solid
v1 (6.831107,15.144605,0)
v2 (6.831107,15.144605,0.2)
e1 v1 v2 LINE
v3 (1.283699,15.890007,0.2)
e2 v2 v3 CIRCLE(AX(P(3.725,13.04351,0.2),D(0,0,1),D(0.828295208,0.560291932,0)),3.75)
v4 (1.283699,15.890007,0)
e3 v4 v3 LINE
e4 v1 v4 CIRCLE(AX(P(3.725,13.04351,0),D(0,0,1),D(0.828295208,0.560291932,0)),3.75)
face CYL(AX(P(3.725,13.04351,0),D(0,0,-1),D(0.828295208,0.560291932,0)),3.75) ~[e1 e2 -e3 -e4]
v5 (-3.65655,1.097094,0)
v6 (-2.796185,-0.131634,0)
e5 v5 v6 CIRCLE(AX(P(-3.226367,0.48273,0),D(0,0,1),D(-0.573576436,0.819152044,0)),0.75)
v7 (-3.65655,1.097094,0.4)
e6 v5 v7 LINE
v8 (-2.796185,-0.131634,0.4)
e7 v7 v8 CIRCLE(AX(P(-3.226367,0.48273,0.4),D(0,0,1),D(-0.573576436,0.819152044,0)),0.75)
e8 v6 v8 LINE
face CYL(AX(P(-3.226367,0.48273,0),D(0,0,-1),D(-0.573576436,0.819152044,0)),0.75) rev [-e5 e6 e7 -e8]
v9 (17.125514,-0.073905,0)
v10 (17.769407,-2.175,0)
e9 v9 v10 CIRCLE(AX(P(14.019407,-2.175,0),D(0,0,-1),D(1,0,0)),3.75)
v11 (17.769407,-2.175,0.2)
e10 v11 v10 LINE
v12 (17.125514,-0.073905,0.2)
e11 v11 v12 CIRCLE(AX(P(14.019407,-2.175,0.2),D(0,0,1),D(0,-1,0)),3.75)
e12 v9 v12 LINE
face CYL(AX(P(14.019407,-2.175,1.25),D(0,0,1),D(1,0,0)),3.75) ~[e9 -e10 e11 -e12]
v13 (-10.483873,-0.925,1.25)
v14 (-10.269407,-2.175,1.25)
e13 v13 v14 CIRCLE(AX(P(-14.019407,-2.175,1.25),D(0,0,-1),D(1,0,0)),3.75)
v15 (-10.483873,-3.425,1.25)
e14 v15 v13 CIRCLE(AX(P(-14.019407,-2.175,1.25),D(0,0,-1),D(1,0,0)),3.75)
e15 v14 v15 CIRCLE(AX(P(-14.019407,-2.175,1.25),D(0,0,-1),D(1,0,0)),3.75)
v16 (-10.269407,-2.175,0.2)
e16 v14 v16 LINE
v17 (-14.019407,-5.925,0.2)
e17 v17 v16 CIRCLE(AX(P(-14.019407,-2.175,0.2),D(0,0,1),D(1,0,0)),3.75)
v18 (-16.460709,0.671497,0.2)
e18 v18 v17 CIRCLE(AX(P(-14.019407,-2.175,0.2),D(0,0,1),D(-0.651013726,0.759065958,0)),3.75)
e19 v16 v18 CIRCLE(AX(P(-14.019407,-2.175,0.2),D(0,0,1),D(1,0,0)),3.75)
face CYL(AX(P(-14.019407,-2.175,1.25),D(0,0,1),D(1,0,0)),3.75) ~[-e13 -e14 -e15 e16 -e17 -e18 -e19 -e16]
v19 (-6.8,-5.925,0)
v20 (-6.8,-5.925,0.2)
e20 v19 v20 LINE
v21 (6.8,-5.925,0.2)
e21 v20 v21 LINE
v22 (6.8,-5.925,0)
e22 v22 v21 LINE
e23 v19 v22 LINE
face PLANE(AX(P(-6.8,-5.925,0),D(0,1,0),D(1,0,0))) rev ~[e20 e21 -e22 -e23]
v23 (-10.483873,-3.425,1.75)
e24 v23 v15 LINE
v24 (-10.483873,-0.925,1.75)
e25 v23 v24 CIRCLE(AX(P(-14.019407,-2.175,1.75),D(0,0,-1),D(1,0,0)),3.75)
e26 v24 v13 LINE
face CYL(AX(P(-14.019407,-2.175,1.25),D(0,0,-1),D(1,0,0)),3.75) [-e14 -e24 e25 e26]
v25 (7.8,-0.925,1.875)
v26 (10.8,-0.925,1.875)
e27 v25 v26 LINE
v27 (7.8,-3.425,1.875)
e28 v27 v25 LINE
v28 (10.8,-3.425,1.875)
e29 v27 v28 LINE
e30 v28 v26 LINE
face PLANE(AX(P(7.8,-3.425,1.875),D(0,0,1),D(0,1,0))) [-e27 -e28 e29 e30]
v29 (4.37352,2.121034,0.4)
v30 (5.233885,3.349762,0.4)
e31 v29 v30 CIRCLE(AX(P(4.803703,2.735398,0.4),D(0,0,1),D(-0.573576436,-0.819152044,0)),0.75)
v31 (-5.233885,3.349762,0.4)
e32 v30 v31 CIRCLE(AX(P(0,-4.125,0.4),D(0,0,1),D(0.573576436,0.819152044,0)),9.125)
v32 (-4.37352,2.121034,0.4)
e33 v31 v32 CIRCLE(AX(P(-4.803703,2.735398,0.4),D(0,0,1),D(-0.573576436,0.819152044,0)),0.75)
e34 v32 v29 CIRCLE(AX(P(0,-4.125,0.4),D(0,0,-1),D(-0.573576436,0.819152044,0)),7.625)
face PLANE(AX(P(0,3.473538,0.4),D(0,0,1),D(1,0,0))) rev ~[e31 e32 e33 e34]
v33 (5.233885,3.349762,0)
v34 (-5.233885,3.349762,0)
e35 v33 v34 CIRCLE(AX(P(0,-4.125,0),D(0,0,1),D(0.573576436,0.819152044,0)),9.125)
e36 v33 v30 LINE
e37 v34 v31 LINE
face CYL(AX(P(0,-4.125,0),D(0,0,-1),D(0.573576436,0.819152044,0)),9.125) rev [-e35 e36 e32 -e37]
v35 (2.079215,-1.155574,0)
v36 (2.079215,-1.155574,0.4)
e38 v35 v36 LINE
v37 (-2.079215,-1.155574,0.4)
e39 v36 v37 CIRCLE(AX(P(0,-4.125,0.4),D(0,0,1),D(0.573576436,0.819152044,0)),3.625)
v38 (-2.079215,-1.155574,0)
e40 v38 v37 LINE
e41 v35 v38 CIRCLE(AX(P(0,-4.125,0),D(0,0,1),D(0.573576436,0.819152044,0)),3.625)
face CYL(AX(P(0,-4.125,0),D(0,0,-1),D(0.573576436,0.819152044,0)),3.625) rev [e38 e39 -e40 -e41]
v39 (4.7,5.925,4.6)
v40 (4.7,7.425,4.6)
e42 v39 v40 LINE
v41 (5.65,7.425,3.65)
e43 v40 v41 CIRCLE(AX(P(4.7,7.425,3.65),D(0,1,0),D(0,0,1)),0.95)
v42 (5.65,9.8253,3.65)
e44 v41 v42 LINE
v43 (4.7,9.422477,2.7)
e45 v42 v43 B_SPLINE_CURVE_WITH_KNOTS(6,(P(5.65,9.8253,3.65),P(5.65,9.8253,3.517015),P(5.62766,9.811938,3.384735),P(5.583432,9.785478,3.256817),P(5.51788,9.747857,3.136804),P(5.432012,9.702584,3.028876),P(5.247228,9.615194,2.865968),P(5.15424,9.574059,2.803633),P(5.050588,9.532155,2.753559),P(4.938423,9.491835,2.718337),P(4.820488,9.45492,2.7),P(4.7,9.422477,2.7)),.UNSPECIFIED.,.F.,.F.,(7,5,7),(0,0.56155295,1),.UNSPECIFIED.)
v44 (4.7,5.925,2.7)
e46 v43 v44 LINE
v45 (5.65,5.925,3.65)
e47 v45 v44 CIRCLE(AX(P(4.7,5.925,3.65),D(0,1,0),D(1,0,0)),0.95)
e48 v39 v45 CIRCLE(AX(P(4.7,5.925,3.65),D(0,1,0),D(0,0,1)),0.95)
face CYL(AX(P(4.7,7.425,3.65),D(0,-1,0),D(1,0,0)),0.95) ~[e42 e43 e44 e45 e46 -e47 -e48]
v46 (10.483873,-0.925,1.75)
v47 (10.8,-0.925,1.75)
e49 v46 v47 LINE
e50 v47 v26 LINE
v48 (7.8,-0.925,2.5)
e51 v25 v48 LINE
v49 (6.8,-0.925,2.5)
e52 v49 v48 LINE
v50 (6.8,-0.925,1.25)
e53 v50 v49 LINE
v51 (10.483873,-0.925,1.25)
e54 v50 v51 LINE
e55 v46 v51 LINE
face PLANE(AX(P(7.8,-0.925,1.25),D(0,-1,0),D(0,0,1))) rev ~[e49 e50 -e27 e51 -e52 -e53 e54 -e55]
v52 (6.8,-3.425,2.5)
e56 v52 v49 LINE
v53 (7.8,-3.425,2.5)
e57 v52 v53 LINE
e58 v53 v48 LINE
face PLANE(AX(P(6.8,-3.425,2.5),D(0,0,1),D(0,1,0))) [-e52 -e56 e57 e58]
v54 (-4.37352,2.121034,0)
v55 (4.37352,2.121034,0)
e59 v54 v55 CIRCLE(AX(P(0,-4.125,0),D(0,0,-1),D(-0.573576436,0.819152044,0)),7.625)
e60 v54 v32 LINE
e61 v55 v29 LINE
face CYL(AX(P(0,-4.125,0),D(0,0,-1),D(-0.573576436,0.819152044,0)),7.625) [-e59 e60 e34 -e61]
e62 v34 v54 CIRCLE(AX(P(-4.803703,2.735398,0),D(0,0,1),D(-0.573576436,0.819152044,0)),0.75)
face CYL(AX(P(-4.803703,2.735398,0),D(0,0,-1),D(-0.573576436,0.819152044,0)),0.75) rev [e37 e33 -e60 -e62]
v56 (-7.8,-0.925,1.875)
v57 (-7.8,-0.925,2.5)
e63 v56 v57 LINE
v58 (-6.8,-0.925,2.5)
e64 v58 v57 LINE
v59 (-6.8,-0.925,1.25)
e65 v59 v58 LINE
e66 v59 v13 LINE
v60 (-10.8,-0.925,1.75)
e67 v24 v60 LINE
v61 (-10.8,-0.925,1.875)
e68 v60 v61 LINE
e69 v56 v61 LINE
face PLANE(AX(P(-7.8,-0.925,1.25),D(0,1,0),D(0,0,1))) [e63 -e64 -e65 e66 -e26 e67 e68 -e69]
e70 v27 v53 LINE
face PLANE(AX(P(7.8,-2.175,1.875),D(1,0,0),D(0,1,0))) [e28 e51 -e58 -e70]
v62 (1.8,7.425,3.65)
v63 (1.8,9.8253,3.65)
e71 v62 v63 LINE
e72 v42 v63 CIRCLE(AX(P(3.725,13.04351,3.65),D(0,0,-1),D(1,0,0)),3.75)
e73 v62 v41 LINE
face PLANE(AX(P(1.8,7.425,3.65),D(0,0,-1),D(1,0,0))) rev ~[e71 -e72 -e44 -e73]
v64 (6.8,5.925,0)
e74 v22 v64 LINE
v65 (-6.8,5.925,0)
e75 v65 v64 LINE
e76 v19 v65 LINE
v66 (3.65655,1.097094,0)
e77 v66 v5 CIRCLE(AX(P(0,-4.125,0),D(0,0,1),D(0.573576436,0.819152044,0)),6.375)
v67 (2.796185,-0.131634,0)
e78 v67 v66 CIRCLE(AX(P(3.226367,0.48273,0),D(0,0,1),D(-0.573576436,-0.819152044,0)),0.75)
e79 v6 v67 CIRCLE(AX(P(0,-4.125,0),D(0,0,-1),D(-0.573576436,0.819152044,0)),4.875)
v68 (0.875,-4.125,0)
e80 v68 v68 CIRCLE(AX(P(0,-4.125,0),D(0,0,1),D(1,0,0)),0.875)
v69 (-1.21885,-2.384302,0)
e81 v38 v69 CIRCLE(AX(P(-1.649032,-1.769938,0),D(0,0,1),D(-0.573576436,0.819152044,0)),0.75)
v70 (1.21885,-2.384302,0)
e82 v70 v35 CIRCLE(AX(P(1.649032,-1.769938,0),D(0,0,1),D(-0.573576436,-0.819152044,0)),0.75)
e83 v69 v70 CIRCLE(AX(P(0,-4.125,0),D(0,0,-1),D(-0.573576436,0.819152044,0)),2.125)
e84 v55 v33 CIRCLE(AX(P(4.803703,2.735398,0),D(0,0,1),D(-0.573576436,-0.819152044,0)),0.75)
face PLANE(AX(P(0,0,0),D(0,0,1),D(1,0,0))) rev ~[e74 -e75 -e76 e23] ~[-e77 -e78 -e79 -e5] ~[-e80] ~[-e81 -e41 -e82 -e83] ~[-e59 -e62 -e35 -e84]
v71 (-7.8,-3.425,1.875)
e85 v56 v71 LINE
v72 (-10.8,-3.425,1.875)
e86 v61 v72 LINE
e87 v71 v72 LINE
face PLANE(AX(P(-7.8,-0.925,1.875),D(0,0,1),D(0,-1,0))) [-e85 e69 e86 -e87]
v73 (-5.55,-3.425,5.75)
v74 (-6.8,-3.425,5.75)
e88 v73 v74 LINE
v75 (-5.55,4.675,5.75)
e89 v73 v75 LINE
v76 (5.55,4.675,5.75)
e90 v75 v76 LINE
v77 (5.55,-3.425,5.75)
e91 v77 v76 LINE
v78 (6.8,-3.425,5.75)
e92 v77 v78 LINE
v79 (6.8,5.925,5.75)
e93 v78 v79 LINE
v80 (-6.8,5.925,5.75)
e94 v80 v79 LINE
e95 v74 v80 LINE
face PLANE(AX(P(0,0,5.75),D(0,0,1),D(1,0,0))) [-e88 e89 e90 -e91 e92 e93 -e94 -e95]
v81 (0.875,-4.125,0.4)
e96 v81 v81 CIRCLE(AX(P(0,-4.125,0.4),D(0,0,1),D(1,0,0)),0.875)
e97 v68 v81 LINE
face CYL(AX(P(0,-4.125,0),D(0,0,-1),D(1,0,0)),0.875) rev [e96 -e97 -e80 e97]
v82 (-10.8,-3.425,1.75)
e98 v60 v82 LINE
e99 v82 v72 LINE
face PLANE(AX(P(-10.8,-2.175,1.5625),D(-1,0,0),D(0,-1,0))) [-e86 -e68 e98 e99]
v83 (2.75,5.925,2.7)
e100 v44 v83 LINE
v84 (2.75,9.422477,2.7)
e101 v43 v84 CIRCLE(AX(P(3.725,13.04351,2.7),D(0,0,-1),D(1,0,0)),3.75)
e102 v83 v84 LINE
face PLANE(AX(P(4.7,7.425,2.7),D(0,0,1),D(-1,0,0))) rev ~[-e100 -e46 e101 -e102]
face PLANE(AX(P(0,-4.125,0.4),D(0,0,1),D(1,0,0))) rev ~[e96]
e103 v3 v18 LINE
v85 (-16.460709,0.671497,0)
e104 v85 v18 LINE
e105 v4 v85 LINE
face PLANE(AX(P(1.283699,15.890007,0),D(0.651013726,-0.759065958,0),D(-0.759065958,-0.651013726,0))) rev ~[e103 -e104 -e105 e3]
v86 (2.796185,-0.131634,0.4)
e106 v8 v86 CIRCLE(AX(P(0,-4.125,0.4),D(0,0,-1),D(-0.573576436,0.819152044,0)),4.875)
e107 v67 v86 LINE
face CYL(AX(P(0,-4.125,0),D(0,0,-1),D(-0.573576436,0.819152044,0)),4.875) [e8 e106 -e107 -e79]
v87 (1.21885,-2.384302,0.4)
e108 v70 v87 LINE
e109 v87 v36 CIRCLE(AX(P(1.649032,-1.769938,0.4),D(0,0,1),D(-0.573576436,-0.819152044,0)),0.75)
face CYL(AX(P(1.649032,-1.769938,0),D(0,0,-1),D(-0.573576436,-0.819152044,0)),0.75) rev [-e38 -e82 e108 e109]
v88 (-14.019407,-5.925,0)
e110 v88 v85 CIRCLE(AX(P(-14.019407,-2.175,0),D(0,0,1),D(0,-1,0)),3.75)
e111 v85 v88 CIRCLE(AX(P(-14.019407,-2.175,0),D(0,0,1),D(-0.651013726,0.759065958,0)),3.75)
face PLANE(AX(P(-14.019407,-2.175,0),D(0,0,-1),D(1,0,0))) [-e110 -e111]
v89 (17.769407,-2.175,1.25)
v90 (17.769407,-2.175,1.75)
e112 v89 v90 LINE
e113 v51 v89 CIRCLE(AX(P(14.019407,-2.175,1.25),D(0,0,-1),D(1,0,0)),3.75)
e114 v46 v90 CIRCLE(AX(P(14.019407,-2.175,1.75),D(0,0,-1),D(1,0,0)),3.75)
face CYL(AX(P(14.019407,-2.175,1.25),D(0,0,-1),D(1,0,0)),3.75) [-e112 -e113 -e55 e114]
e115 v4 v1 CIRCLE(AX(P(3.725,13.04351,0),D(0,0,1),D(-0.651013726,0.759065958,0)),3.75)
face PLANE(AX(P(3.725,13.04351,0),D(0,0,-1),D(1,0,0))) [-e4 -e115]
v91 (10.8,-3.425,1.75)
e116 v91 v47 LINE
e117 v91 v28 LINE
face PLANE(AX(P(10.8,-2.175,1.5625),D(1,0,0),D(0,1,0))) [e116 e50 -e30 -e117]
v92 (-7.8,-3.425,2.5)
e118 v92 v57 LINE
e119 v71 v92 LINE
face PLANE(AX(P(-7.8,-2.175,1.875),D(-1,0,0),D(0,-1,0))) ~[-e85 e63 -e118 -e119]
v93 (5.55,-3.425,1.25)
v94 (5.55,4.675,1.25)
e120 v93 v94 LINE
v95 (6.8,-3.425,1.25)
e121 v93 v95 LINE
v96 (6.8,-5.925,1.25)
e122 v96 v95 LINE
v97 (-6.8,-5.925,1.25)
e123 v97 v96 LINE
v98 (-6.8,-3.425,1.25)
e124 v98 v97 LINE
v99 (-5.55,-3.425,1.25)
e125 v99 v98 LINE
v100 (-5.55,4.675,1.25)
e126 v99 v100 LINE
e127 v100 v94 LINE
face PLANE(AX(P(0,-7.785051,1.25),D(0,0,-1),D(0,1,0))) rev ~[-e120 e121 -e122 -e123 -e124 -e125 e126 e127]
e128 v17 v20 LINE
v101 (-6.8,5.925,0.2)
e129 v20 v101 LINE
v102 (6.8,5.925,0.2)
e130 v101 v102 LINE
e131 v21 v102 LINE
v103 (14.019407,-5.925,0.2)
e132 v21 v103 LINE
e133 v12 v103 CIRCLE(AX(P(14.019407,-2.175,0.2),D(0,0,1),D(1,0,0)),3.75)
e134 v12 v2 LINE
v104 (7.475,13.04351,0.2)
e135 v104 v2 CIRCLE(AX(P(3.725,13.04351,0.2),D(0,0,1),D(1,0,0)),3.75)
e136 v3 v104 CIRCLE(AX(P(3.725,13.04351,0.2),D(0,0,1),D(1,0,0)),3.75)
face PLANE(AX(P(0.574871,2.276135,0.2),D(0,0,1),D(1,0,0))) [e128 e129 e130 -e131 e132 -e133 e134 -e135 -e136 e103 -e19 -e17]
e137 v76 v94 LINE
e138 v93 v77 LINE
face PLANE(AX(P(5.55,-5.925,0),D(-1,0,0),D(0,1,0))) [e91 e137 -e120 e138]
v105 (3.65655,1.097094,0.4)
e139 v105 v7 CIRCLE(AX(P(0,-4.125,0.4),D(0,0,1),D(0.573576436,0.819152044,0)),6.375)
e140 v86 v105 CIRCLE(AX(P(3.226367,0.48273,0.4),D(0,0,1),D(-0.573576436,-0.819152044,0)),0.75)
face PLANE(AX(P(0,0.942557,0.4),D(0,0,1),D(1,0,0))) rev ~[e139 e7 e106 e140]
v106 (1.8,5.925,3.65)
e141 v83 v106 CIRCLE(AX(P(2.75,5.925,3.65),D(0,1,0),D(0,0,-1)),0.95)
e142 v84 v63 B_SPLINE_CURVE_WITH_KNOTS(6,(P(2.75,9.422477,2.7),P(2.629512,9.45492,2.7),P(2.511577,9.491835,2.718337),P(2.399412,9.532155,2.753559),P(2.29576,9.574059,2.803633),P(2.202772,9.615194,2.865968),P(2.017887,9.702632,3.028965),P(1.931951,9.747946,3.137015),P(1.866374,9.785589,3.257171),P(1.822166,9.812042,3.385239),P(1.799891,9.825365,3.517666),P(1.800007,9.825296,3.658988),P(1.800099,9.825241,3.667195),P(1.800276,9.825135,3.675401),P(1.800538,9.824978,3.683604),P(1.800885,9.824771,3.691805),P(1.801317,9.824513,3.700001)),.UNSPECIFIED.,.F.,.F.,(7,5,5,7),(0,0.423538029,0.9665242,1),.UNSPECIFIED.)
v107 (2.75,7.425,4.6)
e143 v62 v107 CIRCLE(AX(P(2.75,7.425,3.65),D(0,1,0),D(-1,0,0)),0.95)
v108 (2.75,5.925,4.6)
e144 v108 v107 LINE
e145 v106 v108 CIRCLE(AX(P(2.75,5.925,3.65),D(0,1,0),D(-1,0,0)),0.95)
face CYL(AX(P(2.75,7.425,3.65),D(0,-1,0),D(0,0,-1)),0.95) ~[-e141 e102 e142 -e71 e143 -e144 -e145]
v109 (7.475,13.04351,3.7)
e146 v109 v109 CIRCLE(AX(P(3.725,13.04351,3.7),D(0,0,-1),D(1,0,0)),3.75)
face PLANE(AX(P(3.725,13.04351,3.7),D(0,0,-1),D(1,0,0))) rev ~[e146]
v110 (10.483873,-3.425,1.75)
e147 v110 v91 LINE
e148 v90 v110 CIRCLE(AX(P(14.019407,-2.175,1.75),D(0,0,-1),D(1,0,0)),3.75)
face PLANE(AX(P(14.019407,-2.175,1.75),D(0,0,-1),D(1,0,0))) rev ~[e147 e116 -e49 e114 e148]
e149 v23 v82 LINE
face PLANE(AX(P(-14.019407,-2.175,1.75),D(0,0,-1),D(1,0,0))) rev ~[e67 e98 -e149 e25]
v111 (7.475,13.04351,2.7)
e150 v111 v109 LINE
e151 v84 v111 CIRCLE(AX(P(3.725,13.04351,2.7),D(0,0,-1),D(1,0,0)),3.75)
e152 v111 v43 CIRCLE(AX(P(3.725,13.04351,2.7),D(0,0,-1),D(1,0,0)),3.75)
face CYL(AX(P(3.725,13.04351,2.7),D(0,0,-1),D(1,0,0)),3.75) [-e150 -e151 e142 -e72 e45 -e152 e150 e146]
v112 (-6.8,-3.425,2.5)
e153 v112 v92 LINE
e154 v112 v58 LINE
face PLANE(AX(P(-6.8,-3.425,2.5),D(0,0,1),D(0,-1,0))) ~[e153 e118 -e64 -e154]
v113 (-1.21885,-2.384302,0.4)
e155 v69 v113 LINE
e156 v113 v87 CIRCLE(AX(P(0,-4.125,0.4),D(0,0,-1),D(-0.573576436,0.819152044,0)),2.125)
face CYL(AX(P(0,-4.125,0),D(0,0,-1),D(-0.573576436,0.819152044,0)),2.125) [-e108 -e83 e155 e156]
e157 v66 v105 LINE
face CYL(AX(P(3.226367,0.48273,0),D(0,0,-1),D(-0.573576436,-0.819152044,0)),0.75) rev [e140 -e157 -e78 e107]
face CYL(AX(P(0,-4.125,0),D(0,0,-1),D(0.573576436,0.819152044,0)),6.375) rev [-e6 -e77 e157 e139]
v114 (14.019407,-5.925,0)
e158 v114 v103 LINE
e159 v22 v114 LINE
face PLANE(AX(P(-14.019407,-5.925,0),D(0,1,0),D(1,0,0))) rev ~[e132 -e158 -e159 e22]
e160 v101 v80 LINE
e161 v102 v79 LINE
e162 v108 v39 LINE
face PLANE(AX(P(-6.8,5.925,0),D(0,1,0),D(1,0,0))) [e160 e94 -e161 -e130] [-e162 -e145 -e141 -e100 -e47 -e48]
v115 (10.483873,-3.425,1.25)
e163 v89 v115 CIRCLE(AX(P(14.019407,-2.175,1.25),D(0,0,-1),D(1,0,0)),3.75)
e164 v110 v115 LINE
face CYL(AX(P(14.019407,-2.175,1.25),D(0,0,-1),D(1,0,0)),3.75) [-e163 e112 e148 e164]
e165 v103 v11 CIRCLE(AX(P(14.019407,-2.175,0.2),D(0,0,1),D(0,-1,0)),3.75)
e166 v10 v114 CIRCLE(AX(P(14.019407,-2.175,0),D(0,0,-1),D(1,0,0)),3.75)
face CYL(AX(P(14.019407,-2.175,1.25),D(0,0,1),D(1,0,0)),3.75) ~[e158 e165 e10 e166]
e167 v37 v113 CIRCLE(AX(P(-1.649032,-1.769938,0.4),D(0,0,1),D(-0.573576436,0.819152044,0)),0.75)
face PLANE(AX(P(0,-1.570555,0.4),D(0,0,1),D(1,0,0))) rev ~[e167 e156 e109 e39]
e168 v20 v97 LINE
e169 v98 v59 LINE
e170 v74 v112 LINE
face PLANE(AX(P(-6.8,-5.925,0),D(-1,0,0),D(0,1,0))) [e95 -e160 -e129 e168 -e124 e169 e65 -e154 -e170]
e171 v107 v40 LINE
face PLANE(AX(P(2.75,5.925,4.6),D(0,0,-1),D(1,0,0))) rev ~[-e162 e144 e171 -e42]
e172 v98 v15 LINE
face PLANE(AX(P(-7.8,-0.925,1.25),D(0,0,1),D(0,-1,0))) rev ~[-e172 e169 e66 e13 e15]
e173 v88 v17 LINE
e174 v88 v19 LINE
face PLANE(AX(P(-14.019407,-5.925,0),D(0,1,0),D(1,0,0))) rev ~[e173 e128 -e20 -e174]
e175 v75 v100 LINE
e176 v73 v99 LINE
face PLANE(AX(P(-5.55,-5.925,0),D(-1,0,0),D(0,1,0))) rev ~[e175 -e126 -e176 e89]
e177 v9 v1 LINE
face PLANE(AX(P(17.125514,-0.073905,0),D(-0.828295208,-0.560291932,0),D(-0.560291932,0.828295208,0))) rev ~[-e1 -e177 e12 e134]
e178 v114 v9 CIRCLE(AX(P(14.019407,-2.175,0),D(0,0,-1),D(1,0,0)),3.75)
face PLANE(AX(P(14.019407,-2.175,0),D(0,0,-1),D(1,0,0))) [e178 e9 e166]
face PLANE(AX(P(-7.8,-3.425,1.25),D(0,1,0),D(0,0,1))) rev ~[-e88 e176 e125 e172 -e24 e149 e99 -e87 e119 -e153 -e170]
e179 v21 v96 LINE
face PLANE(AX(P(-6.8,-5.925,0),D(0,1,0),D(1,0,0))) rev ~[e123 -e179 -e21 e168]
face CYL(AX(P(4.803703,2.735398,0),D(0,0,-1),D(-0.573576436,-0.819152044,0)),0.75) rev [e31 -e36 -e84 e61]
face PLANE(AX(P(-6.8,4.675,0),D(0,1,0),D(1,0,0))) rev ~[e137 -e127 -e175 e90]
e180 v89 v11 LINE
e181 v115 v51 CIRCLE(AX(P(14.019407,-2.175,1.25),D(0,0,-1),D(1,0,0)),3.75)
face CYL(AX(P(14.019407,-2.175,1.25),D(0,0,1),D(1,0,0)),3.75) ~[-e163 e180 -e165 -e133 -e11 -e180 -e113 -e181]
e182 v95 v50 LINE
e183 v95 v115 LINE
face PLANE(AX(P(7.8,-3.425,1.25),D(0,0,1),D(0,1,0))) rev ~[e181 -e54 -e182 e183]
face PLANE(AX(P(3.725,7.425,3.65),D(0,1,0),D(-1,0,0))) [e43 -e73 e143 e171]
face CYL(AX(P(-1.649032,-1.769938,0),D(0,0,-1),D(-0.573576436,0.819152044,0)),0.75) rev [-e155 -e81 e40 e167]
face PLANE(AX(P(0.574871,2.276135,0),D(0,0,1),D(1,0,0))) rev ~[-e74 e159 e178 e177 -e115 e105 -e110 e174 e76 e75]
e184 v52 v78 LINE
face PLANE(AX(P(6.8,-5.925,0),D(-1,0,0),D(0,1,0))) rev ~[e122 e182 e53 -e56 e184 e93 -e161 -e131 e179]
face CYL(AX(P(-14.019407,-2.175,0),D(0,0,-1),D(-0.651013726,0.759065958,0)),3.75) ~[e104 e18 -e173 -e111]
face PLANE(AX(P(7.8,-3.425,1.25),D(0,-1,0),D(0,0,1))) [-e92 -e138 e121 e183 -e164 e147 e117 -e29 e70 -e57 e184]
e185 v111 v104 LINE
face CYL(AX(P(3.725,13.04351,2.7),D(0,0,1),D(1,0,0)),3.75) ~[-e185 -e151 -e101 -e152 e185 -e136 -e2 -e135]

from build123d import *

# Parameters (mm, degrees)
F0_W           = 13.6
F0_H           = 11.85
F1_DEPTH       = 5.75
F2_T           = -1.25
F3_W           = 2.5
F3_H           = 1.25
F4_DEPTH       = 1
F6_W           = 5
F6_H           = 1.15
F7_DEPTH       = 1.5
F9_DEPTH       = 1.5
F10_W          = 4.3600509252
F10_H          = 4.6871736337
F11_DEPTH      = 7.801
F11_DEPTH_BACK = 7.801
F13_W          = 2.5
F13_H          = 0.625
F14_DEPTH      = 3
F15_W          = 2.5
F15_H          = 0.625
F16_DEPTH      = 3
F18_DEPTH      = 3
F19_R          = 3.75
F20_DEPTH      = 1.25
F20_DEPTH_BACK = 0.5
F21_R          = 3.75
F22_DEPTH      = 2.7
F22_DEPTH_BACK = 1
F24_DEPTH      = 0.2
F12_R          = 0.875
F25_DEPTH      = 0.4


with BuildPart() as f1:
    # F0 (on Top) → F1 (new body)
    with BuildSketch(Plane.XY):
        Rectangle(F0_W, F0_H)
    extrude(amount=F1_DEPTH)

    # F2
    f2_openings = [f1.faces().sort_by_distance(p)[0] for p in [
        (0, 0, 5.75),
    ]]
    offset(amount=F2_T, openings=f2_openings)

    # F3 (on face) → F4 (join)
    with BuildSketch(Plane.YZ.offset(6.8)):
        with Locations((-2.175, 1.875)):
            Rectangle(F3_W, F3_H)
    extrude(amount=F4_DEPTH)

    # F5: F1 across plane


with BuildPart() as f1_1:
    add(f1.part)
    add(f1.part.mirror(Plane.YZ))

    # F6 (on face) → F7 (join)
    with BuildSketch(Plane.XZ.offset(5.925)):
        with Locations((0, 3.075)):
            Rectangle(F6_W, F6_H)
    extrude(amount=F7_DEPTH)

    # F8 (on face) → F9 (join)
    with BuildSketch(Plane(origin=(0, 5.925, 0), x_dir=(-1, 0, 0), z_dir=(0, 1, 0))):
        with BuildLine():
            Line((-4.7, 2.7), (-2.75, 2.7))
            ThreePointArc((-2.75, 2.7), (-2.0782485579, 2.9782485579), (-1.8, 3.65))
            ThreePointArc((-1.8, 3.65), (-2.0782485579, 4.3217514421), (-2.75, 4.6))
            Line((-2.75, 4.6), (-4.7, 4.6))
            ThreePointArc((-4.7, 4.6), (-5.3717514421, 4.3217514421), (-5.65, 3.65))
            ThreePointArc((-5.65, 3.65), (-5.3717514421, 2.9782485579), (-4.7, 2.7))
        make_face()
    extrude(amount=F9_DEPTH)

    # F10 (on Right) → F11 (cut, two sides)
    with BuildSketch(Plane.YZ) as f11_sk:
        with Locations((-5.6050254626, 3.5935868168)):
            Rectangle(F10_W, F10_H)
    extrude(amount=-F11_DEPTH, mode=Mode.SUBTRACT)
    extrude(f11_sk.sketch, amount=F11_DEPTH_BACK, mode=Mode.SUBTRACT)

    # F13 (on face) → F14 (join)
    with BuildSketch(Plane.YZ.offset(7.8)):
        with Locations((-2.175, 1.5625)):
            Rectangle(F13_W, F13_H)
    extrude(amount=F14_DEPTH)

    # F15 (on face) → F16 (join)
    with BuildSketch(Plane(origin=(-7.8, 0, 0), x_dir=(0, -1, 0), z_dir=(-1, 0, 0))):
        with Locations((2.175, 1.5625)):
            Rectangle(F15_W, F15_H)
    extrude(amount=F16_DEPTH)

    # F17 (on face) → F18 (join)
    with BuildSketch(Plane(origin=(0, 7.425, 0), x_dir=(-1, 0, 0), z_dir=(0, 1, 0))):
        with BuildLine():
            Line((-4.7, 2.7), (-2.75, 2.7))
            ThreePointArc((-2.75, 2.7), (-2.0782485579, 2.9782485579), (-1.8, 3.65))
            Line((-1.8, 3.65), (-5.65, 3.65))
            ThreePointArc((-5.65, 3.65), (-5.3717514421, 2.9782485579), (-4.7, 2.7))
        make_face()
    extrude(amount=F18_DEPTH)

    # F19 (on face) → F20 (join, two sides)
    with BuildSketch(Plane(origin=(0, 0, 1.25), x_dir=(1, 0, 0), z_dir=(0, 0, -1))) as f20_sk:
        with Locations((-14.0194073319, 2.175)):
            Circle(F19_R)
        with Locations((14.0194073319, 2.175)):
            Circle(F19_R)
    extrude(amount=F20_DEPTH)
    extrude(f20_sk.sketch, amount=-F20_DEPTH_BACK)

    # F21 (on face) → F22 (join, two sides)
    with BuildSketch(Plane(origin=(0, 0, 2.7), x_dir=(1, 0, 0), z_dir=(0, 0, -1))) as f22_sk:
        with Locations((3.725, -13.0435097963)):
            Circle(F21_R)
    extrude(amount=F22_DEPTH)
    extrude(f22_sk.sketch, amount=-F22_DEPTH_BACK)

    # F23 (on Top) → F24 (join)
    with BuildSketch(Plane.XY):
        with BuildLine():
            Line((1.2836985293, 15.8900071403), (-16.4607088026, 0.6714973441))
            ThreePointArc((-16.4607088026, 0.6714973441), (-17.536285567, -3.4765634752), (-14.0194073319, -5.925))
            Line((-14.0194073319, -5.925), (14.0194073319, -5.925))
            ThreePointArc((14.0194073319, -5.925), (17.3316275311, -3.9333223118), (17.1255143602, -0.0739052545))
            Line((17.1255143602, -0.0739052545), (6.8311070282, 15.1446045417))
            ThreePointArc((6.8311070282, 15.1446045417), (4.2243975028, 16.7601079901), (1.2836985293, 15.8900071403))
        make_face()
    extrude(amount=F24_DEPTH)

    # F12 (on Top) → F25 (cut)
    with BuildSketch(Plane.XY):
        with Locations((0, -4.125)):
            Circle(F12_R)
        with BuildLine():
            ThreePointArc((4.3735203272, 2.1210343377), (5.4180666877, 2.3052160437), (5.2338849817, 3.3497624041))
            ThreePointArc((5.2338849817, 3.3497624041), (0, 5), (-5.2338849817, 3.3497624041))
            ThreePointArc((-5.2338849817, 3.3497624041), (-5.4180666877, 2.3052160437), (-4.3735203272, 2.1210343377))
            ThreePointArc((-4.3735203272, 2.1210343377), (0, 3.5), (4.3735203272, 2.1210343377))
        make_face()
        with BuildLine():
            ThreePointArc((2.7961851272, -0.1316337841), (3.8407314877, 0.0525479219), (3.6565497817, 1.0970942823))
            ThreePointArc((3.6565497817, 1.0970942823), (0, 2.25), (-3.6565497817, 1.0970942823))
            ThreePointArc((-3.6565497817, 1.0970942823), (-3.8407314877, 0.0525479219), (-2.7961851272, -0.1316337841))
            ThreePointArc((-2.7961851272, -0.1316337841), (0, 0.75), (2.7961851272, -0.1316337841))
        make_face()
        with BuildLine():
            ThreePointArc((1.2188499272, -2.3843019059), (2.2633962877, -2.2001201999), (2.0792145818, -1.1555738395))
            ThreePointArc((2.0792145818, -1.1555738395), (0, -0.5), (-2.0792145818, -1.1555738395))
            ThreePointArc((-2.0792145818, -1.1555738395), (-2.2633962877, -2.2001201999), (-1.2188499272, -2.3843019059))
            ThreePointArc((-1.2188499272, -2.3843019059), (0, -2), (1.2188499272, -2.3843019059))
        make_face()
    extrude(amount=F25_DEPTH, mode=Mode.SUBTRACT)


solid = f1_1.part
